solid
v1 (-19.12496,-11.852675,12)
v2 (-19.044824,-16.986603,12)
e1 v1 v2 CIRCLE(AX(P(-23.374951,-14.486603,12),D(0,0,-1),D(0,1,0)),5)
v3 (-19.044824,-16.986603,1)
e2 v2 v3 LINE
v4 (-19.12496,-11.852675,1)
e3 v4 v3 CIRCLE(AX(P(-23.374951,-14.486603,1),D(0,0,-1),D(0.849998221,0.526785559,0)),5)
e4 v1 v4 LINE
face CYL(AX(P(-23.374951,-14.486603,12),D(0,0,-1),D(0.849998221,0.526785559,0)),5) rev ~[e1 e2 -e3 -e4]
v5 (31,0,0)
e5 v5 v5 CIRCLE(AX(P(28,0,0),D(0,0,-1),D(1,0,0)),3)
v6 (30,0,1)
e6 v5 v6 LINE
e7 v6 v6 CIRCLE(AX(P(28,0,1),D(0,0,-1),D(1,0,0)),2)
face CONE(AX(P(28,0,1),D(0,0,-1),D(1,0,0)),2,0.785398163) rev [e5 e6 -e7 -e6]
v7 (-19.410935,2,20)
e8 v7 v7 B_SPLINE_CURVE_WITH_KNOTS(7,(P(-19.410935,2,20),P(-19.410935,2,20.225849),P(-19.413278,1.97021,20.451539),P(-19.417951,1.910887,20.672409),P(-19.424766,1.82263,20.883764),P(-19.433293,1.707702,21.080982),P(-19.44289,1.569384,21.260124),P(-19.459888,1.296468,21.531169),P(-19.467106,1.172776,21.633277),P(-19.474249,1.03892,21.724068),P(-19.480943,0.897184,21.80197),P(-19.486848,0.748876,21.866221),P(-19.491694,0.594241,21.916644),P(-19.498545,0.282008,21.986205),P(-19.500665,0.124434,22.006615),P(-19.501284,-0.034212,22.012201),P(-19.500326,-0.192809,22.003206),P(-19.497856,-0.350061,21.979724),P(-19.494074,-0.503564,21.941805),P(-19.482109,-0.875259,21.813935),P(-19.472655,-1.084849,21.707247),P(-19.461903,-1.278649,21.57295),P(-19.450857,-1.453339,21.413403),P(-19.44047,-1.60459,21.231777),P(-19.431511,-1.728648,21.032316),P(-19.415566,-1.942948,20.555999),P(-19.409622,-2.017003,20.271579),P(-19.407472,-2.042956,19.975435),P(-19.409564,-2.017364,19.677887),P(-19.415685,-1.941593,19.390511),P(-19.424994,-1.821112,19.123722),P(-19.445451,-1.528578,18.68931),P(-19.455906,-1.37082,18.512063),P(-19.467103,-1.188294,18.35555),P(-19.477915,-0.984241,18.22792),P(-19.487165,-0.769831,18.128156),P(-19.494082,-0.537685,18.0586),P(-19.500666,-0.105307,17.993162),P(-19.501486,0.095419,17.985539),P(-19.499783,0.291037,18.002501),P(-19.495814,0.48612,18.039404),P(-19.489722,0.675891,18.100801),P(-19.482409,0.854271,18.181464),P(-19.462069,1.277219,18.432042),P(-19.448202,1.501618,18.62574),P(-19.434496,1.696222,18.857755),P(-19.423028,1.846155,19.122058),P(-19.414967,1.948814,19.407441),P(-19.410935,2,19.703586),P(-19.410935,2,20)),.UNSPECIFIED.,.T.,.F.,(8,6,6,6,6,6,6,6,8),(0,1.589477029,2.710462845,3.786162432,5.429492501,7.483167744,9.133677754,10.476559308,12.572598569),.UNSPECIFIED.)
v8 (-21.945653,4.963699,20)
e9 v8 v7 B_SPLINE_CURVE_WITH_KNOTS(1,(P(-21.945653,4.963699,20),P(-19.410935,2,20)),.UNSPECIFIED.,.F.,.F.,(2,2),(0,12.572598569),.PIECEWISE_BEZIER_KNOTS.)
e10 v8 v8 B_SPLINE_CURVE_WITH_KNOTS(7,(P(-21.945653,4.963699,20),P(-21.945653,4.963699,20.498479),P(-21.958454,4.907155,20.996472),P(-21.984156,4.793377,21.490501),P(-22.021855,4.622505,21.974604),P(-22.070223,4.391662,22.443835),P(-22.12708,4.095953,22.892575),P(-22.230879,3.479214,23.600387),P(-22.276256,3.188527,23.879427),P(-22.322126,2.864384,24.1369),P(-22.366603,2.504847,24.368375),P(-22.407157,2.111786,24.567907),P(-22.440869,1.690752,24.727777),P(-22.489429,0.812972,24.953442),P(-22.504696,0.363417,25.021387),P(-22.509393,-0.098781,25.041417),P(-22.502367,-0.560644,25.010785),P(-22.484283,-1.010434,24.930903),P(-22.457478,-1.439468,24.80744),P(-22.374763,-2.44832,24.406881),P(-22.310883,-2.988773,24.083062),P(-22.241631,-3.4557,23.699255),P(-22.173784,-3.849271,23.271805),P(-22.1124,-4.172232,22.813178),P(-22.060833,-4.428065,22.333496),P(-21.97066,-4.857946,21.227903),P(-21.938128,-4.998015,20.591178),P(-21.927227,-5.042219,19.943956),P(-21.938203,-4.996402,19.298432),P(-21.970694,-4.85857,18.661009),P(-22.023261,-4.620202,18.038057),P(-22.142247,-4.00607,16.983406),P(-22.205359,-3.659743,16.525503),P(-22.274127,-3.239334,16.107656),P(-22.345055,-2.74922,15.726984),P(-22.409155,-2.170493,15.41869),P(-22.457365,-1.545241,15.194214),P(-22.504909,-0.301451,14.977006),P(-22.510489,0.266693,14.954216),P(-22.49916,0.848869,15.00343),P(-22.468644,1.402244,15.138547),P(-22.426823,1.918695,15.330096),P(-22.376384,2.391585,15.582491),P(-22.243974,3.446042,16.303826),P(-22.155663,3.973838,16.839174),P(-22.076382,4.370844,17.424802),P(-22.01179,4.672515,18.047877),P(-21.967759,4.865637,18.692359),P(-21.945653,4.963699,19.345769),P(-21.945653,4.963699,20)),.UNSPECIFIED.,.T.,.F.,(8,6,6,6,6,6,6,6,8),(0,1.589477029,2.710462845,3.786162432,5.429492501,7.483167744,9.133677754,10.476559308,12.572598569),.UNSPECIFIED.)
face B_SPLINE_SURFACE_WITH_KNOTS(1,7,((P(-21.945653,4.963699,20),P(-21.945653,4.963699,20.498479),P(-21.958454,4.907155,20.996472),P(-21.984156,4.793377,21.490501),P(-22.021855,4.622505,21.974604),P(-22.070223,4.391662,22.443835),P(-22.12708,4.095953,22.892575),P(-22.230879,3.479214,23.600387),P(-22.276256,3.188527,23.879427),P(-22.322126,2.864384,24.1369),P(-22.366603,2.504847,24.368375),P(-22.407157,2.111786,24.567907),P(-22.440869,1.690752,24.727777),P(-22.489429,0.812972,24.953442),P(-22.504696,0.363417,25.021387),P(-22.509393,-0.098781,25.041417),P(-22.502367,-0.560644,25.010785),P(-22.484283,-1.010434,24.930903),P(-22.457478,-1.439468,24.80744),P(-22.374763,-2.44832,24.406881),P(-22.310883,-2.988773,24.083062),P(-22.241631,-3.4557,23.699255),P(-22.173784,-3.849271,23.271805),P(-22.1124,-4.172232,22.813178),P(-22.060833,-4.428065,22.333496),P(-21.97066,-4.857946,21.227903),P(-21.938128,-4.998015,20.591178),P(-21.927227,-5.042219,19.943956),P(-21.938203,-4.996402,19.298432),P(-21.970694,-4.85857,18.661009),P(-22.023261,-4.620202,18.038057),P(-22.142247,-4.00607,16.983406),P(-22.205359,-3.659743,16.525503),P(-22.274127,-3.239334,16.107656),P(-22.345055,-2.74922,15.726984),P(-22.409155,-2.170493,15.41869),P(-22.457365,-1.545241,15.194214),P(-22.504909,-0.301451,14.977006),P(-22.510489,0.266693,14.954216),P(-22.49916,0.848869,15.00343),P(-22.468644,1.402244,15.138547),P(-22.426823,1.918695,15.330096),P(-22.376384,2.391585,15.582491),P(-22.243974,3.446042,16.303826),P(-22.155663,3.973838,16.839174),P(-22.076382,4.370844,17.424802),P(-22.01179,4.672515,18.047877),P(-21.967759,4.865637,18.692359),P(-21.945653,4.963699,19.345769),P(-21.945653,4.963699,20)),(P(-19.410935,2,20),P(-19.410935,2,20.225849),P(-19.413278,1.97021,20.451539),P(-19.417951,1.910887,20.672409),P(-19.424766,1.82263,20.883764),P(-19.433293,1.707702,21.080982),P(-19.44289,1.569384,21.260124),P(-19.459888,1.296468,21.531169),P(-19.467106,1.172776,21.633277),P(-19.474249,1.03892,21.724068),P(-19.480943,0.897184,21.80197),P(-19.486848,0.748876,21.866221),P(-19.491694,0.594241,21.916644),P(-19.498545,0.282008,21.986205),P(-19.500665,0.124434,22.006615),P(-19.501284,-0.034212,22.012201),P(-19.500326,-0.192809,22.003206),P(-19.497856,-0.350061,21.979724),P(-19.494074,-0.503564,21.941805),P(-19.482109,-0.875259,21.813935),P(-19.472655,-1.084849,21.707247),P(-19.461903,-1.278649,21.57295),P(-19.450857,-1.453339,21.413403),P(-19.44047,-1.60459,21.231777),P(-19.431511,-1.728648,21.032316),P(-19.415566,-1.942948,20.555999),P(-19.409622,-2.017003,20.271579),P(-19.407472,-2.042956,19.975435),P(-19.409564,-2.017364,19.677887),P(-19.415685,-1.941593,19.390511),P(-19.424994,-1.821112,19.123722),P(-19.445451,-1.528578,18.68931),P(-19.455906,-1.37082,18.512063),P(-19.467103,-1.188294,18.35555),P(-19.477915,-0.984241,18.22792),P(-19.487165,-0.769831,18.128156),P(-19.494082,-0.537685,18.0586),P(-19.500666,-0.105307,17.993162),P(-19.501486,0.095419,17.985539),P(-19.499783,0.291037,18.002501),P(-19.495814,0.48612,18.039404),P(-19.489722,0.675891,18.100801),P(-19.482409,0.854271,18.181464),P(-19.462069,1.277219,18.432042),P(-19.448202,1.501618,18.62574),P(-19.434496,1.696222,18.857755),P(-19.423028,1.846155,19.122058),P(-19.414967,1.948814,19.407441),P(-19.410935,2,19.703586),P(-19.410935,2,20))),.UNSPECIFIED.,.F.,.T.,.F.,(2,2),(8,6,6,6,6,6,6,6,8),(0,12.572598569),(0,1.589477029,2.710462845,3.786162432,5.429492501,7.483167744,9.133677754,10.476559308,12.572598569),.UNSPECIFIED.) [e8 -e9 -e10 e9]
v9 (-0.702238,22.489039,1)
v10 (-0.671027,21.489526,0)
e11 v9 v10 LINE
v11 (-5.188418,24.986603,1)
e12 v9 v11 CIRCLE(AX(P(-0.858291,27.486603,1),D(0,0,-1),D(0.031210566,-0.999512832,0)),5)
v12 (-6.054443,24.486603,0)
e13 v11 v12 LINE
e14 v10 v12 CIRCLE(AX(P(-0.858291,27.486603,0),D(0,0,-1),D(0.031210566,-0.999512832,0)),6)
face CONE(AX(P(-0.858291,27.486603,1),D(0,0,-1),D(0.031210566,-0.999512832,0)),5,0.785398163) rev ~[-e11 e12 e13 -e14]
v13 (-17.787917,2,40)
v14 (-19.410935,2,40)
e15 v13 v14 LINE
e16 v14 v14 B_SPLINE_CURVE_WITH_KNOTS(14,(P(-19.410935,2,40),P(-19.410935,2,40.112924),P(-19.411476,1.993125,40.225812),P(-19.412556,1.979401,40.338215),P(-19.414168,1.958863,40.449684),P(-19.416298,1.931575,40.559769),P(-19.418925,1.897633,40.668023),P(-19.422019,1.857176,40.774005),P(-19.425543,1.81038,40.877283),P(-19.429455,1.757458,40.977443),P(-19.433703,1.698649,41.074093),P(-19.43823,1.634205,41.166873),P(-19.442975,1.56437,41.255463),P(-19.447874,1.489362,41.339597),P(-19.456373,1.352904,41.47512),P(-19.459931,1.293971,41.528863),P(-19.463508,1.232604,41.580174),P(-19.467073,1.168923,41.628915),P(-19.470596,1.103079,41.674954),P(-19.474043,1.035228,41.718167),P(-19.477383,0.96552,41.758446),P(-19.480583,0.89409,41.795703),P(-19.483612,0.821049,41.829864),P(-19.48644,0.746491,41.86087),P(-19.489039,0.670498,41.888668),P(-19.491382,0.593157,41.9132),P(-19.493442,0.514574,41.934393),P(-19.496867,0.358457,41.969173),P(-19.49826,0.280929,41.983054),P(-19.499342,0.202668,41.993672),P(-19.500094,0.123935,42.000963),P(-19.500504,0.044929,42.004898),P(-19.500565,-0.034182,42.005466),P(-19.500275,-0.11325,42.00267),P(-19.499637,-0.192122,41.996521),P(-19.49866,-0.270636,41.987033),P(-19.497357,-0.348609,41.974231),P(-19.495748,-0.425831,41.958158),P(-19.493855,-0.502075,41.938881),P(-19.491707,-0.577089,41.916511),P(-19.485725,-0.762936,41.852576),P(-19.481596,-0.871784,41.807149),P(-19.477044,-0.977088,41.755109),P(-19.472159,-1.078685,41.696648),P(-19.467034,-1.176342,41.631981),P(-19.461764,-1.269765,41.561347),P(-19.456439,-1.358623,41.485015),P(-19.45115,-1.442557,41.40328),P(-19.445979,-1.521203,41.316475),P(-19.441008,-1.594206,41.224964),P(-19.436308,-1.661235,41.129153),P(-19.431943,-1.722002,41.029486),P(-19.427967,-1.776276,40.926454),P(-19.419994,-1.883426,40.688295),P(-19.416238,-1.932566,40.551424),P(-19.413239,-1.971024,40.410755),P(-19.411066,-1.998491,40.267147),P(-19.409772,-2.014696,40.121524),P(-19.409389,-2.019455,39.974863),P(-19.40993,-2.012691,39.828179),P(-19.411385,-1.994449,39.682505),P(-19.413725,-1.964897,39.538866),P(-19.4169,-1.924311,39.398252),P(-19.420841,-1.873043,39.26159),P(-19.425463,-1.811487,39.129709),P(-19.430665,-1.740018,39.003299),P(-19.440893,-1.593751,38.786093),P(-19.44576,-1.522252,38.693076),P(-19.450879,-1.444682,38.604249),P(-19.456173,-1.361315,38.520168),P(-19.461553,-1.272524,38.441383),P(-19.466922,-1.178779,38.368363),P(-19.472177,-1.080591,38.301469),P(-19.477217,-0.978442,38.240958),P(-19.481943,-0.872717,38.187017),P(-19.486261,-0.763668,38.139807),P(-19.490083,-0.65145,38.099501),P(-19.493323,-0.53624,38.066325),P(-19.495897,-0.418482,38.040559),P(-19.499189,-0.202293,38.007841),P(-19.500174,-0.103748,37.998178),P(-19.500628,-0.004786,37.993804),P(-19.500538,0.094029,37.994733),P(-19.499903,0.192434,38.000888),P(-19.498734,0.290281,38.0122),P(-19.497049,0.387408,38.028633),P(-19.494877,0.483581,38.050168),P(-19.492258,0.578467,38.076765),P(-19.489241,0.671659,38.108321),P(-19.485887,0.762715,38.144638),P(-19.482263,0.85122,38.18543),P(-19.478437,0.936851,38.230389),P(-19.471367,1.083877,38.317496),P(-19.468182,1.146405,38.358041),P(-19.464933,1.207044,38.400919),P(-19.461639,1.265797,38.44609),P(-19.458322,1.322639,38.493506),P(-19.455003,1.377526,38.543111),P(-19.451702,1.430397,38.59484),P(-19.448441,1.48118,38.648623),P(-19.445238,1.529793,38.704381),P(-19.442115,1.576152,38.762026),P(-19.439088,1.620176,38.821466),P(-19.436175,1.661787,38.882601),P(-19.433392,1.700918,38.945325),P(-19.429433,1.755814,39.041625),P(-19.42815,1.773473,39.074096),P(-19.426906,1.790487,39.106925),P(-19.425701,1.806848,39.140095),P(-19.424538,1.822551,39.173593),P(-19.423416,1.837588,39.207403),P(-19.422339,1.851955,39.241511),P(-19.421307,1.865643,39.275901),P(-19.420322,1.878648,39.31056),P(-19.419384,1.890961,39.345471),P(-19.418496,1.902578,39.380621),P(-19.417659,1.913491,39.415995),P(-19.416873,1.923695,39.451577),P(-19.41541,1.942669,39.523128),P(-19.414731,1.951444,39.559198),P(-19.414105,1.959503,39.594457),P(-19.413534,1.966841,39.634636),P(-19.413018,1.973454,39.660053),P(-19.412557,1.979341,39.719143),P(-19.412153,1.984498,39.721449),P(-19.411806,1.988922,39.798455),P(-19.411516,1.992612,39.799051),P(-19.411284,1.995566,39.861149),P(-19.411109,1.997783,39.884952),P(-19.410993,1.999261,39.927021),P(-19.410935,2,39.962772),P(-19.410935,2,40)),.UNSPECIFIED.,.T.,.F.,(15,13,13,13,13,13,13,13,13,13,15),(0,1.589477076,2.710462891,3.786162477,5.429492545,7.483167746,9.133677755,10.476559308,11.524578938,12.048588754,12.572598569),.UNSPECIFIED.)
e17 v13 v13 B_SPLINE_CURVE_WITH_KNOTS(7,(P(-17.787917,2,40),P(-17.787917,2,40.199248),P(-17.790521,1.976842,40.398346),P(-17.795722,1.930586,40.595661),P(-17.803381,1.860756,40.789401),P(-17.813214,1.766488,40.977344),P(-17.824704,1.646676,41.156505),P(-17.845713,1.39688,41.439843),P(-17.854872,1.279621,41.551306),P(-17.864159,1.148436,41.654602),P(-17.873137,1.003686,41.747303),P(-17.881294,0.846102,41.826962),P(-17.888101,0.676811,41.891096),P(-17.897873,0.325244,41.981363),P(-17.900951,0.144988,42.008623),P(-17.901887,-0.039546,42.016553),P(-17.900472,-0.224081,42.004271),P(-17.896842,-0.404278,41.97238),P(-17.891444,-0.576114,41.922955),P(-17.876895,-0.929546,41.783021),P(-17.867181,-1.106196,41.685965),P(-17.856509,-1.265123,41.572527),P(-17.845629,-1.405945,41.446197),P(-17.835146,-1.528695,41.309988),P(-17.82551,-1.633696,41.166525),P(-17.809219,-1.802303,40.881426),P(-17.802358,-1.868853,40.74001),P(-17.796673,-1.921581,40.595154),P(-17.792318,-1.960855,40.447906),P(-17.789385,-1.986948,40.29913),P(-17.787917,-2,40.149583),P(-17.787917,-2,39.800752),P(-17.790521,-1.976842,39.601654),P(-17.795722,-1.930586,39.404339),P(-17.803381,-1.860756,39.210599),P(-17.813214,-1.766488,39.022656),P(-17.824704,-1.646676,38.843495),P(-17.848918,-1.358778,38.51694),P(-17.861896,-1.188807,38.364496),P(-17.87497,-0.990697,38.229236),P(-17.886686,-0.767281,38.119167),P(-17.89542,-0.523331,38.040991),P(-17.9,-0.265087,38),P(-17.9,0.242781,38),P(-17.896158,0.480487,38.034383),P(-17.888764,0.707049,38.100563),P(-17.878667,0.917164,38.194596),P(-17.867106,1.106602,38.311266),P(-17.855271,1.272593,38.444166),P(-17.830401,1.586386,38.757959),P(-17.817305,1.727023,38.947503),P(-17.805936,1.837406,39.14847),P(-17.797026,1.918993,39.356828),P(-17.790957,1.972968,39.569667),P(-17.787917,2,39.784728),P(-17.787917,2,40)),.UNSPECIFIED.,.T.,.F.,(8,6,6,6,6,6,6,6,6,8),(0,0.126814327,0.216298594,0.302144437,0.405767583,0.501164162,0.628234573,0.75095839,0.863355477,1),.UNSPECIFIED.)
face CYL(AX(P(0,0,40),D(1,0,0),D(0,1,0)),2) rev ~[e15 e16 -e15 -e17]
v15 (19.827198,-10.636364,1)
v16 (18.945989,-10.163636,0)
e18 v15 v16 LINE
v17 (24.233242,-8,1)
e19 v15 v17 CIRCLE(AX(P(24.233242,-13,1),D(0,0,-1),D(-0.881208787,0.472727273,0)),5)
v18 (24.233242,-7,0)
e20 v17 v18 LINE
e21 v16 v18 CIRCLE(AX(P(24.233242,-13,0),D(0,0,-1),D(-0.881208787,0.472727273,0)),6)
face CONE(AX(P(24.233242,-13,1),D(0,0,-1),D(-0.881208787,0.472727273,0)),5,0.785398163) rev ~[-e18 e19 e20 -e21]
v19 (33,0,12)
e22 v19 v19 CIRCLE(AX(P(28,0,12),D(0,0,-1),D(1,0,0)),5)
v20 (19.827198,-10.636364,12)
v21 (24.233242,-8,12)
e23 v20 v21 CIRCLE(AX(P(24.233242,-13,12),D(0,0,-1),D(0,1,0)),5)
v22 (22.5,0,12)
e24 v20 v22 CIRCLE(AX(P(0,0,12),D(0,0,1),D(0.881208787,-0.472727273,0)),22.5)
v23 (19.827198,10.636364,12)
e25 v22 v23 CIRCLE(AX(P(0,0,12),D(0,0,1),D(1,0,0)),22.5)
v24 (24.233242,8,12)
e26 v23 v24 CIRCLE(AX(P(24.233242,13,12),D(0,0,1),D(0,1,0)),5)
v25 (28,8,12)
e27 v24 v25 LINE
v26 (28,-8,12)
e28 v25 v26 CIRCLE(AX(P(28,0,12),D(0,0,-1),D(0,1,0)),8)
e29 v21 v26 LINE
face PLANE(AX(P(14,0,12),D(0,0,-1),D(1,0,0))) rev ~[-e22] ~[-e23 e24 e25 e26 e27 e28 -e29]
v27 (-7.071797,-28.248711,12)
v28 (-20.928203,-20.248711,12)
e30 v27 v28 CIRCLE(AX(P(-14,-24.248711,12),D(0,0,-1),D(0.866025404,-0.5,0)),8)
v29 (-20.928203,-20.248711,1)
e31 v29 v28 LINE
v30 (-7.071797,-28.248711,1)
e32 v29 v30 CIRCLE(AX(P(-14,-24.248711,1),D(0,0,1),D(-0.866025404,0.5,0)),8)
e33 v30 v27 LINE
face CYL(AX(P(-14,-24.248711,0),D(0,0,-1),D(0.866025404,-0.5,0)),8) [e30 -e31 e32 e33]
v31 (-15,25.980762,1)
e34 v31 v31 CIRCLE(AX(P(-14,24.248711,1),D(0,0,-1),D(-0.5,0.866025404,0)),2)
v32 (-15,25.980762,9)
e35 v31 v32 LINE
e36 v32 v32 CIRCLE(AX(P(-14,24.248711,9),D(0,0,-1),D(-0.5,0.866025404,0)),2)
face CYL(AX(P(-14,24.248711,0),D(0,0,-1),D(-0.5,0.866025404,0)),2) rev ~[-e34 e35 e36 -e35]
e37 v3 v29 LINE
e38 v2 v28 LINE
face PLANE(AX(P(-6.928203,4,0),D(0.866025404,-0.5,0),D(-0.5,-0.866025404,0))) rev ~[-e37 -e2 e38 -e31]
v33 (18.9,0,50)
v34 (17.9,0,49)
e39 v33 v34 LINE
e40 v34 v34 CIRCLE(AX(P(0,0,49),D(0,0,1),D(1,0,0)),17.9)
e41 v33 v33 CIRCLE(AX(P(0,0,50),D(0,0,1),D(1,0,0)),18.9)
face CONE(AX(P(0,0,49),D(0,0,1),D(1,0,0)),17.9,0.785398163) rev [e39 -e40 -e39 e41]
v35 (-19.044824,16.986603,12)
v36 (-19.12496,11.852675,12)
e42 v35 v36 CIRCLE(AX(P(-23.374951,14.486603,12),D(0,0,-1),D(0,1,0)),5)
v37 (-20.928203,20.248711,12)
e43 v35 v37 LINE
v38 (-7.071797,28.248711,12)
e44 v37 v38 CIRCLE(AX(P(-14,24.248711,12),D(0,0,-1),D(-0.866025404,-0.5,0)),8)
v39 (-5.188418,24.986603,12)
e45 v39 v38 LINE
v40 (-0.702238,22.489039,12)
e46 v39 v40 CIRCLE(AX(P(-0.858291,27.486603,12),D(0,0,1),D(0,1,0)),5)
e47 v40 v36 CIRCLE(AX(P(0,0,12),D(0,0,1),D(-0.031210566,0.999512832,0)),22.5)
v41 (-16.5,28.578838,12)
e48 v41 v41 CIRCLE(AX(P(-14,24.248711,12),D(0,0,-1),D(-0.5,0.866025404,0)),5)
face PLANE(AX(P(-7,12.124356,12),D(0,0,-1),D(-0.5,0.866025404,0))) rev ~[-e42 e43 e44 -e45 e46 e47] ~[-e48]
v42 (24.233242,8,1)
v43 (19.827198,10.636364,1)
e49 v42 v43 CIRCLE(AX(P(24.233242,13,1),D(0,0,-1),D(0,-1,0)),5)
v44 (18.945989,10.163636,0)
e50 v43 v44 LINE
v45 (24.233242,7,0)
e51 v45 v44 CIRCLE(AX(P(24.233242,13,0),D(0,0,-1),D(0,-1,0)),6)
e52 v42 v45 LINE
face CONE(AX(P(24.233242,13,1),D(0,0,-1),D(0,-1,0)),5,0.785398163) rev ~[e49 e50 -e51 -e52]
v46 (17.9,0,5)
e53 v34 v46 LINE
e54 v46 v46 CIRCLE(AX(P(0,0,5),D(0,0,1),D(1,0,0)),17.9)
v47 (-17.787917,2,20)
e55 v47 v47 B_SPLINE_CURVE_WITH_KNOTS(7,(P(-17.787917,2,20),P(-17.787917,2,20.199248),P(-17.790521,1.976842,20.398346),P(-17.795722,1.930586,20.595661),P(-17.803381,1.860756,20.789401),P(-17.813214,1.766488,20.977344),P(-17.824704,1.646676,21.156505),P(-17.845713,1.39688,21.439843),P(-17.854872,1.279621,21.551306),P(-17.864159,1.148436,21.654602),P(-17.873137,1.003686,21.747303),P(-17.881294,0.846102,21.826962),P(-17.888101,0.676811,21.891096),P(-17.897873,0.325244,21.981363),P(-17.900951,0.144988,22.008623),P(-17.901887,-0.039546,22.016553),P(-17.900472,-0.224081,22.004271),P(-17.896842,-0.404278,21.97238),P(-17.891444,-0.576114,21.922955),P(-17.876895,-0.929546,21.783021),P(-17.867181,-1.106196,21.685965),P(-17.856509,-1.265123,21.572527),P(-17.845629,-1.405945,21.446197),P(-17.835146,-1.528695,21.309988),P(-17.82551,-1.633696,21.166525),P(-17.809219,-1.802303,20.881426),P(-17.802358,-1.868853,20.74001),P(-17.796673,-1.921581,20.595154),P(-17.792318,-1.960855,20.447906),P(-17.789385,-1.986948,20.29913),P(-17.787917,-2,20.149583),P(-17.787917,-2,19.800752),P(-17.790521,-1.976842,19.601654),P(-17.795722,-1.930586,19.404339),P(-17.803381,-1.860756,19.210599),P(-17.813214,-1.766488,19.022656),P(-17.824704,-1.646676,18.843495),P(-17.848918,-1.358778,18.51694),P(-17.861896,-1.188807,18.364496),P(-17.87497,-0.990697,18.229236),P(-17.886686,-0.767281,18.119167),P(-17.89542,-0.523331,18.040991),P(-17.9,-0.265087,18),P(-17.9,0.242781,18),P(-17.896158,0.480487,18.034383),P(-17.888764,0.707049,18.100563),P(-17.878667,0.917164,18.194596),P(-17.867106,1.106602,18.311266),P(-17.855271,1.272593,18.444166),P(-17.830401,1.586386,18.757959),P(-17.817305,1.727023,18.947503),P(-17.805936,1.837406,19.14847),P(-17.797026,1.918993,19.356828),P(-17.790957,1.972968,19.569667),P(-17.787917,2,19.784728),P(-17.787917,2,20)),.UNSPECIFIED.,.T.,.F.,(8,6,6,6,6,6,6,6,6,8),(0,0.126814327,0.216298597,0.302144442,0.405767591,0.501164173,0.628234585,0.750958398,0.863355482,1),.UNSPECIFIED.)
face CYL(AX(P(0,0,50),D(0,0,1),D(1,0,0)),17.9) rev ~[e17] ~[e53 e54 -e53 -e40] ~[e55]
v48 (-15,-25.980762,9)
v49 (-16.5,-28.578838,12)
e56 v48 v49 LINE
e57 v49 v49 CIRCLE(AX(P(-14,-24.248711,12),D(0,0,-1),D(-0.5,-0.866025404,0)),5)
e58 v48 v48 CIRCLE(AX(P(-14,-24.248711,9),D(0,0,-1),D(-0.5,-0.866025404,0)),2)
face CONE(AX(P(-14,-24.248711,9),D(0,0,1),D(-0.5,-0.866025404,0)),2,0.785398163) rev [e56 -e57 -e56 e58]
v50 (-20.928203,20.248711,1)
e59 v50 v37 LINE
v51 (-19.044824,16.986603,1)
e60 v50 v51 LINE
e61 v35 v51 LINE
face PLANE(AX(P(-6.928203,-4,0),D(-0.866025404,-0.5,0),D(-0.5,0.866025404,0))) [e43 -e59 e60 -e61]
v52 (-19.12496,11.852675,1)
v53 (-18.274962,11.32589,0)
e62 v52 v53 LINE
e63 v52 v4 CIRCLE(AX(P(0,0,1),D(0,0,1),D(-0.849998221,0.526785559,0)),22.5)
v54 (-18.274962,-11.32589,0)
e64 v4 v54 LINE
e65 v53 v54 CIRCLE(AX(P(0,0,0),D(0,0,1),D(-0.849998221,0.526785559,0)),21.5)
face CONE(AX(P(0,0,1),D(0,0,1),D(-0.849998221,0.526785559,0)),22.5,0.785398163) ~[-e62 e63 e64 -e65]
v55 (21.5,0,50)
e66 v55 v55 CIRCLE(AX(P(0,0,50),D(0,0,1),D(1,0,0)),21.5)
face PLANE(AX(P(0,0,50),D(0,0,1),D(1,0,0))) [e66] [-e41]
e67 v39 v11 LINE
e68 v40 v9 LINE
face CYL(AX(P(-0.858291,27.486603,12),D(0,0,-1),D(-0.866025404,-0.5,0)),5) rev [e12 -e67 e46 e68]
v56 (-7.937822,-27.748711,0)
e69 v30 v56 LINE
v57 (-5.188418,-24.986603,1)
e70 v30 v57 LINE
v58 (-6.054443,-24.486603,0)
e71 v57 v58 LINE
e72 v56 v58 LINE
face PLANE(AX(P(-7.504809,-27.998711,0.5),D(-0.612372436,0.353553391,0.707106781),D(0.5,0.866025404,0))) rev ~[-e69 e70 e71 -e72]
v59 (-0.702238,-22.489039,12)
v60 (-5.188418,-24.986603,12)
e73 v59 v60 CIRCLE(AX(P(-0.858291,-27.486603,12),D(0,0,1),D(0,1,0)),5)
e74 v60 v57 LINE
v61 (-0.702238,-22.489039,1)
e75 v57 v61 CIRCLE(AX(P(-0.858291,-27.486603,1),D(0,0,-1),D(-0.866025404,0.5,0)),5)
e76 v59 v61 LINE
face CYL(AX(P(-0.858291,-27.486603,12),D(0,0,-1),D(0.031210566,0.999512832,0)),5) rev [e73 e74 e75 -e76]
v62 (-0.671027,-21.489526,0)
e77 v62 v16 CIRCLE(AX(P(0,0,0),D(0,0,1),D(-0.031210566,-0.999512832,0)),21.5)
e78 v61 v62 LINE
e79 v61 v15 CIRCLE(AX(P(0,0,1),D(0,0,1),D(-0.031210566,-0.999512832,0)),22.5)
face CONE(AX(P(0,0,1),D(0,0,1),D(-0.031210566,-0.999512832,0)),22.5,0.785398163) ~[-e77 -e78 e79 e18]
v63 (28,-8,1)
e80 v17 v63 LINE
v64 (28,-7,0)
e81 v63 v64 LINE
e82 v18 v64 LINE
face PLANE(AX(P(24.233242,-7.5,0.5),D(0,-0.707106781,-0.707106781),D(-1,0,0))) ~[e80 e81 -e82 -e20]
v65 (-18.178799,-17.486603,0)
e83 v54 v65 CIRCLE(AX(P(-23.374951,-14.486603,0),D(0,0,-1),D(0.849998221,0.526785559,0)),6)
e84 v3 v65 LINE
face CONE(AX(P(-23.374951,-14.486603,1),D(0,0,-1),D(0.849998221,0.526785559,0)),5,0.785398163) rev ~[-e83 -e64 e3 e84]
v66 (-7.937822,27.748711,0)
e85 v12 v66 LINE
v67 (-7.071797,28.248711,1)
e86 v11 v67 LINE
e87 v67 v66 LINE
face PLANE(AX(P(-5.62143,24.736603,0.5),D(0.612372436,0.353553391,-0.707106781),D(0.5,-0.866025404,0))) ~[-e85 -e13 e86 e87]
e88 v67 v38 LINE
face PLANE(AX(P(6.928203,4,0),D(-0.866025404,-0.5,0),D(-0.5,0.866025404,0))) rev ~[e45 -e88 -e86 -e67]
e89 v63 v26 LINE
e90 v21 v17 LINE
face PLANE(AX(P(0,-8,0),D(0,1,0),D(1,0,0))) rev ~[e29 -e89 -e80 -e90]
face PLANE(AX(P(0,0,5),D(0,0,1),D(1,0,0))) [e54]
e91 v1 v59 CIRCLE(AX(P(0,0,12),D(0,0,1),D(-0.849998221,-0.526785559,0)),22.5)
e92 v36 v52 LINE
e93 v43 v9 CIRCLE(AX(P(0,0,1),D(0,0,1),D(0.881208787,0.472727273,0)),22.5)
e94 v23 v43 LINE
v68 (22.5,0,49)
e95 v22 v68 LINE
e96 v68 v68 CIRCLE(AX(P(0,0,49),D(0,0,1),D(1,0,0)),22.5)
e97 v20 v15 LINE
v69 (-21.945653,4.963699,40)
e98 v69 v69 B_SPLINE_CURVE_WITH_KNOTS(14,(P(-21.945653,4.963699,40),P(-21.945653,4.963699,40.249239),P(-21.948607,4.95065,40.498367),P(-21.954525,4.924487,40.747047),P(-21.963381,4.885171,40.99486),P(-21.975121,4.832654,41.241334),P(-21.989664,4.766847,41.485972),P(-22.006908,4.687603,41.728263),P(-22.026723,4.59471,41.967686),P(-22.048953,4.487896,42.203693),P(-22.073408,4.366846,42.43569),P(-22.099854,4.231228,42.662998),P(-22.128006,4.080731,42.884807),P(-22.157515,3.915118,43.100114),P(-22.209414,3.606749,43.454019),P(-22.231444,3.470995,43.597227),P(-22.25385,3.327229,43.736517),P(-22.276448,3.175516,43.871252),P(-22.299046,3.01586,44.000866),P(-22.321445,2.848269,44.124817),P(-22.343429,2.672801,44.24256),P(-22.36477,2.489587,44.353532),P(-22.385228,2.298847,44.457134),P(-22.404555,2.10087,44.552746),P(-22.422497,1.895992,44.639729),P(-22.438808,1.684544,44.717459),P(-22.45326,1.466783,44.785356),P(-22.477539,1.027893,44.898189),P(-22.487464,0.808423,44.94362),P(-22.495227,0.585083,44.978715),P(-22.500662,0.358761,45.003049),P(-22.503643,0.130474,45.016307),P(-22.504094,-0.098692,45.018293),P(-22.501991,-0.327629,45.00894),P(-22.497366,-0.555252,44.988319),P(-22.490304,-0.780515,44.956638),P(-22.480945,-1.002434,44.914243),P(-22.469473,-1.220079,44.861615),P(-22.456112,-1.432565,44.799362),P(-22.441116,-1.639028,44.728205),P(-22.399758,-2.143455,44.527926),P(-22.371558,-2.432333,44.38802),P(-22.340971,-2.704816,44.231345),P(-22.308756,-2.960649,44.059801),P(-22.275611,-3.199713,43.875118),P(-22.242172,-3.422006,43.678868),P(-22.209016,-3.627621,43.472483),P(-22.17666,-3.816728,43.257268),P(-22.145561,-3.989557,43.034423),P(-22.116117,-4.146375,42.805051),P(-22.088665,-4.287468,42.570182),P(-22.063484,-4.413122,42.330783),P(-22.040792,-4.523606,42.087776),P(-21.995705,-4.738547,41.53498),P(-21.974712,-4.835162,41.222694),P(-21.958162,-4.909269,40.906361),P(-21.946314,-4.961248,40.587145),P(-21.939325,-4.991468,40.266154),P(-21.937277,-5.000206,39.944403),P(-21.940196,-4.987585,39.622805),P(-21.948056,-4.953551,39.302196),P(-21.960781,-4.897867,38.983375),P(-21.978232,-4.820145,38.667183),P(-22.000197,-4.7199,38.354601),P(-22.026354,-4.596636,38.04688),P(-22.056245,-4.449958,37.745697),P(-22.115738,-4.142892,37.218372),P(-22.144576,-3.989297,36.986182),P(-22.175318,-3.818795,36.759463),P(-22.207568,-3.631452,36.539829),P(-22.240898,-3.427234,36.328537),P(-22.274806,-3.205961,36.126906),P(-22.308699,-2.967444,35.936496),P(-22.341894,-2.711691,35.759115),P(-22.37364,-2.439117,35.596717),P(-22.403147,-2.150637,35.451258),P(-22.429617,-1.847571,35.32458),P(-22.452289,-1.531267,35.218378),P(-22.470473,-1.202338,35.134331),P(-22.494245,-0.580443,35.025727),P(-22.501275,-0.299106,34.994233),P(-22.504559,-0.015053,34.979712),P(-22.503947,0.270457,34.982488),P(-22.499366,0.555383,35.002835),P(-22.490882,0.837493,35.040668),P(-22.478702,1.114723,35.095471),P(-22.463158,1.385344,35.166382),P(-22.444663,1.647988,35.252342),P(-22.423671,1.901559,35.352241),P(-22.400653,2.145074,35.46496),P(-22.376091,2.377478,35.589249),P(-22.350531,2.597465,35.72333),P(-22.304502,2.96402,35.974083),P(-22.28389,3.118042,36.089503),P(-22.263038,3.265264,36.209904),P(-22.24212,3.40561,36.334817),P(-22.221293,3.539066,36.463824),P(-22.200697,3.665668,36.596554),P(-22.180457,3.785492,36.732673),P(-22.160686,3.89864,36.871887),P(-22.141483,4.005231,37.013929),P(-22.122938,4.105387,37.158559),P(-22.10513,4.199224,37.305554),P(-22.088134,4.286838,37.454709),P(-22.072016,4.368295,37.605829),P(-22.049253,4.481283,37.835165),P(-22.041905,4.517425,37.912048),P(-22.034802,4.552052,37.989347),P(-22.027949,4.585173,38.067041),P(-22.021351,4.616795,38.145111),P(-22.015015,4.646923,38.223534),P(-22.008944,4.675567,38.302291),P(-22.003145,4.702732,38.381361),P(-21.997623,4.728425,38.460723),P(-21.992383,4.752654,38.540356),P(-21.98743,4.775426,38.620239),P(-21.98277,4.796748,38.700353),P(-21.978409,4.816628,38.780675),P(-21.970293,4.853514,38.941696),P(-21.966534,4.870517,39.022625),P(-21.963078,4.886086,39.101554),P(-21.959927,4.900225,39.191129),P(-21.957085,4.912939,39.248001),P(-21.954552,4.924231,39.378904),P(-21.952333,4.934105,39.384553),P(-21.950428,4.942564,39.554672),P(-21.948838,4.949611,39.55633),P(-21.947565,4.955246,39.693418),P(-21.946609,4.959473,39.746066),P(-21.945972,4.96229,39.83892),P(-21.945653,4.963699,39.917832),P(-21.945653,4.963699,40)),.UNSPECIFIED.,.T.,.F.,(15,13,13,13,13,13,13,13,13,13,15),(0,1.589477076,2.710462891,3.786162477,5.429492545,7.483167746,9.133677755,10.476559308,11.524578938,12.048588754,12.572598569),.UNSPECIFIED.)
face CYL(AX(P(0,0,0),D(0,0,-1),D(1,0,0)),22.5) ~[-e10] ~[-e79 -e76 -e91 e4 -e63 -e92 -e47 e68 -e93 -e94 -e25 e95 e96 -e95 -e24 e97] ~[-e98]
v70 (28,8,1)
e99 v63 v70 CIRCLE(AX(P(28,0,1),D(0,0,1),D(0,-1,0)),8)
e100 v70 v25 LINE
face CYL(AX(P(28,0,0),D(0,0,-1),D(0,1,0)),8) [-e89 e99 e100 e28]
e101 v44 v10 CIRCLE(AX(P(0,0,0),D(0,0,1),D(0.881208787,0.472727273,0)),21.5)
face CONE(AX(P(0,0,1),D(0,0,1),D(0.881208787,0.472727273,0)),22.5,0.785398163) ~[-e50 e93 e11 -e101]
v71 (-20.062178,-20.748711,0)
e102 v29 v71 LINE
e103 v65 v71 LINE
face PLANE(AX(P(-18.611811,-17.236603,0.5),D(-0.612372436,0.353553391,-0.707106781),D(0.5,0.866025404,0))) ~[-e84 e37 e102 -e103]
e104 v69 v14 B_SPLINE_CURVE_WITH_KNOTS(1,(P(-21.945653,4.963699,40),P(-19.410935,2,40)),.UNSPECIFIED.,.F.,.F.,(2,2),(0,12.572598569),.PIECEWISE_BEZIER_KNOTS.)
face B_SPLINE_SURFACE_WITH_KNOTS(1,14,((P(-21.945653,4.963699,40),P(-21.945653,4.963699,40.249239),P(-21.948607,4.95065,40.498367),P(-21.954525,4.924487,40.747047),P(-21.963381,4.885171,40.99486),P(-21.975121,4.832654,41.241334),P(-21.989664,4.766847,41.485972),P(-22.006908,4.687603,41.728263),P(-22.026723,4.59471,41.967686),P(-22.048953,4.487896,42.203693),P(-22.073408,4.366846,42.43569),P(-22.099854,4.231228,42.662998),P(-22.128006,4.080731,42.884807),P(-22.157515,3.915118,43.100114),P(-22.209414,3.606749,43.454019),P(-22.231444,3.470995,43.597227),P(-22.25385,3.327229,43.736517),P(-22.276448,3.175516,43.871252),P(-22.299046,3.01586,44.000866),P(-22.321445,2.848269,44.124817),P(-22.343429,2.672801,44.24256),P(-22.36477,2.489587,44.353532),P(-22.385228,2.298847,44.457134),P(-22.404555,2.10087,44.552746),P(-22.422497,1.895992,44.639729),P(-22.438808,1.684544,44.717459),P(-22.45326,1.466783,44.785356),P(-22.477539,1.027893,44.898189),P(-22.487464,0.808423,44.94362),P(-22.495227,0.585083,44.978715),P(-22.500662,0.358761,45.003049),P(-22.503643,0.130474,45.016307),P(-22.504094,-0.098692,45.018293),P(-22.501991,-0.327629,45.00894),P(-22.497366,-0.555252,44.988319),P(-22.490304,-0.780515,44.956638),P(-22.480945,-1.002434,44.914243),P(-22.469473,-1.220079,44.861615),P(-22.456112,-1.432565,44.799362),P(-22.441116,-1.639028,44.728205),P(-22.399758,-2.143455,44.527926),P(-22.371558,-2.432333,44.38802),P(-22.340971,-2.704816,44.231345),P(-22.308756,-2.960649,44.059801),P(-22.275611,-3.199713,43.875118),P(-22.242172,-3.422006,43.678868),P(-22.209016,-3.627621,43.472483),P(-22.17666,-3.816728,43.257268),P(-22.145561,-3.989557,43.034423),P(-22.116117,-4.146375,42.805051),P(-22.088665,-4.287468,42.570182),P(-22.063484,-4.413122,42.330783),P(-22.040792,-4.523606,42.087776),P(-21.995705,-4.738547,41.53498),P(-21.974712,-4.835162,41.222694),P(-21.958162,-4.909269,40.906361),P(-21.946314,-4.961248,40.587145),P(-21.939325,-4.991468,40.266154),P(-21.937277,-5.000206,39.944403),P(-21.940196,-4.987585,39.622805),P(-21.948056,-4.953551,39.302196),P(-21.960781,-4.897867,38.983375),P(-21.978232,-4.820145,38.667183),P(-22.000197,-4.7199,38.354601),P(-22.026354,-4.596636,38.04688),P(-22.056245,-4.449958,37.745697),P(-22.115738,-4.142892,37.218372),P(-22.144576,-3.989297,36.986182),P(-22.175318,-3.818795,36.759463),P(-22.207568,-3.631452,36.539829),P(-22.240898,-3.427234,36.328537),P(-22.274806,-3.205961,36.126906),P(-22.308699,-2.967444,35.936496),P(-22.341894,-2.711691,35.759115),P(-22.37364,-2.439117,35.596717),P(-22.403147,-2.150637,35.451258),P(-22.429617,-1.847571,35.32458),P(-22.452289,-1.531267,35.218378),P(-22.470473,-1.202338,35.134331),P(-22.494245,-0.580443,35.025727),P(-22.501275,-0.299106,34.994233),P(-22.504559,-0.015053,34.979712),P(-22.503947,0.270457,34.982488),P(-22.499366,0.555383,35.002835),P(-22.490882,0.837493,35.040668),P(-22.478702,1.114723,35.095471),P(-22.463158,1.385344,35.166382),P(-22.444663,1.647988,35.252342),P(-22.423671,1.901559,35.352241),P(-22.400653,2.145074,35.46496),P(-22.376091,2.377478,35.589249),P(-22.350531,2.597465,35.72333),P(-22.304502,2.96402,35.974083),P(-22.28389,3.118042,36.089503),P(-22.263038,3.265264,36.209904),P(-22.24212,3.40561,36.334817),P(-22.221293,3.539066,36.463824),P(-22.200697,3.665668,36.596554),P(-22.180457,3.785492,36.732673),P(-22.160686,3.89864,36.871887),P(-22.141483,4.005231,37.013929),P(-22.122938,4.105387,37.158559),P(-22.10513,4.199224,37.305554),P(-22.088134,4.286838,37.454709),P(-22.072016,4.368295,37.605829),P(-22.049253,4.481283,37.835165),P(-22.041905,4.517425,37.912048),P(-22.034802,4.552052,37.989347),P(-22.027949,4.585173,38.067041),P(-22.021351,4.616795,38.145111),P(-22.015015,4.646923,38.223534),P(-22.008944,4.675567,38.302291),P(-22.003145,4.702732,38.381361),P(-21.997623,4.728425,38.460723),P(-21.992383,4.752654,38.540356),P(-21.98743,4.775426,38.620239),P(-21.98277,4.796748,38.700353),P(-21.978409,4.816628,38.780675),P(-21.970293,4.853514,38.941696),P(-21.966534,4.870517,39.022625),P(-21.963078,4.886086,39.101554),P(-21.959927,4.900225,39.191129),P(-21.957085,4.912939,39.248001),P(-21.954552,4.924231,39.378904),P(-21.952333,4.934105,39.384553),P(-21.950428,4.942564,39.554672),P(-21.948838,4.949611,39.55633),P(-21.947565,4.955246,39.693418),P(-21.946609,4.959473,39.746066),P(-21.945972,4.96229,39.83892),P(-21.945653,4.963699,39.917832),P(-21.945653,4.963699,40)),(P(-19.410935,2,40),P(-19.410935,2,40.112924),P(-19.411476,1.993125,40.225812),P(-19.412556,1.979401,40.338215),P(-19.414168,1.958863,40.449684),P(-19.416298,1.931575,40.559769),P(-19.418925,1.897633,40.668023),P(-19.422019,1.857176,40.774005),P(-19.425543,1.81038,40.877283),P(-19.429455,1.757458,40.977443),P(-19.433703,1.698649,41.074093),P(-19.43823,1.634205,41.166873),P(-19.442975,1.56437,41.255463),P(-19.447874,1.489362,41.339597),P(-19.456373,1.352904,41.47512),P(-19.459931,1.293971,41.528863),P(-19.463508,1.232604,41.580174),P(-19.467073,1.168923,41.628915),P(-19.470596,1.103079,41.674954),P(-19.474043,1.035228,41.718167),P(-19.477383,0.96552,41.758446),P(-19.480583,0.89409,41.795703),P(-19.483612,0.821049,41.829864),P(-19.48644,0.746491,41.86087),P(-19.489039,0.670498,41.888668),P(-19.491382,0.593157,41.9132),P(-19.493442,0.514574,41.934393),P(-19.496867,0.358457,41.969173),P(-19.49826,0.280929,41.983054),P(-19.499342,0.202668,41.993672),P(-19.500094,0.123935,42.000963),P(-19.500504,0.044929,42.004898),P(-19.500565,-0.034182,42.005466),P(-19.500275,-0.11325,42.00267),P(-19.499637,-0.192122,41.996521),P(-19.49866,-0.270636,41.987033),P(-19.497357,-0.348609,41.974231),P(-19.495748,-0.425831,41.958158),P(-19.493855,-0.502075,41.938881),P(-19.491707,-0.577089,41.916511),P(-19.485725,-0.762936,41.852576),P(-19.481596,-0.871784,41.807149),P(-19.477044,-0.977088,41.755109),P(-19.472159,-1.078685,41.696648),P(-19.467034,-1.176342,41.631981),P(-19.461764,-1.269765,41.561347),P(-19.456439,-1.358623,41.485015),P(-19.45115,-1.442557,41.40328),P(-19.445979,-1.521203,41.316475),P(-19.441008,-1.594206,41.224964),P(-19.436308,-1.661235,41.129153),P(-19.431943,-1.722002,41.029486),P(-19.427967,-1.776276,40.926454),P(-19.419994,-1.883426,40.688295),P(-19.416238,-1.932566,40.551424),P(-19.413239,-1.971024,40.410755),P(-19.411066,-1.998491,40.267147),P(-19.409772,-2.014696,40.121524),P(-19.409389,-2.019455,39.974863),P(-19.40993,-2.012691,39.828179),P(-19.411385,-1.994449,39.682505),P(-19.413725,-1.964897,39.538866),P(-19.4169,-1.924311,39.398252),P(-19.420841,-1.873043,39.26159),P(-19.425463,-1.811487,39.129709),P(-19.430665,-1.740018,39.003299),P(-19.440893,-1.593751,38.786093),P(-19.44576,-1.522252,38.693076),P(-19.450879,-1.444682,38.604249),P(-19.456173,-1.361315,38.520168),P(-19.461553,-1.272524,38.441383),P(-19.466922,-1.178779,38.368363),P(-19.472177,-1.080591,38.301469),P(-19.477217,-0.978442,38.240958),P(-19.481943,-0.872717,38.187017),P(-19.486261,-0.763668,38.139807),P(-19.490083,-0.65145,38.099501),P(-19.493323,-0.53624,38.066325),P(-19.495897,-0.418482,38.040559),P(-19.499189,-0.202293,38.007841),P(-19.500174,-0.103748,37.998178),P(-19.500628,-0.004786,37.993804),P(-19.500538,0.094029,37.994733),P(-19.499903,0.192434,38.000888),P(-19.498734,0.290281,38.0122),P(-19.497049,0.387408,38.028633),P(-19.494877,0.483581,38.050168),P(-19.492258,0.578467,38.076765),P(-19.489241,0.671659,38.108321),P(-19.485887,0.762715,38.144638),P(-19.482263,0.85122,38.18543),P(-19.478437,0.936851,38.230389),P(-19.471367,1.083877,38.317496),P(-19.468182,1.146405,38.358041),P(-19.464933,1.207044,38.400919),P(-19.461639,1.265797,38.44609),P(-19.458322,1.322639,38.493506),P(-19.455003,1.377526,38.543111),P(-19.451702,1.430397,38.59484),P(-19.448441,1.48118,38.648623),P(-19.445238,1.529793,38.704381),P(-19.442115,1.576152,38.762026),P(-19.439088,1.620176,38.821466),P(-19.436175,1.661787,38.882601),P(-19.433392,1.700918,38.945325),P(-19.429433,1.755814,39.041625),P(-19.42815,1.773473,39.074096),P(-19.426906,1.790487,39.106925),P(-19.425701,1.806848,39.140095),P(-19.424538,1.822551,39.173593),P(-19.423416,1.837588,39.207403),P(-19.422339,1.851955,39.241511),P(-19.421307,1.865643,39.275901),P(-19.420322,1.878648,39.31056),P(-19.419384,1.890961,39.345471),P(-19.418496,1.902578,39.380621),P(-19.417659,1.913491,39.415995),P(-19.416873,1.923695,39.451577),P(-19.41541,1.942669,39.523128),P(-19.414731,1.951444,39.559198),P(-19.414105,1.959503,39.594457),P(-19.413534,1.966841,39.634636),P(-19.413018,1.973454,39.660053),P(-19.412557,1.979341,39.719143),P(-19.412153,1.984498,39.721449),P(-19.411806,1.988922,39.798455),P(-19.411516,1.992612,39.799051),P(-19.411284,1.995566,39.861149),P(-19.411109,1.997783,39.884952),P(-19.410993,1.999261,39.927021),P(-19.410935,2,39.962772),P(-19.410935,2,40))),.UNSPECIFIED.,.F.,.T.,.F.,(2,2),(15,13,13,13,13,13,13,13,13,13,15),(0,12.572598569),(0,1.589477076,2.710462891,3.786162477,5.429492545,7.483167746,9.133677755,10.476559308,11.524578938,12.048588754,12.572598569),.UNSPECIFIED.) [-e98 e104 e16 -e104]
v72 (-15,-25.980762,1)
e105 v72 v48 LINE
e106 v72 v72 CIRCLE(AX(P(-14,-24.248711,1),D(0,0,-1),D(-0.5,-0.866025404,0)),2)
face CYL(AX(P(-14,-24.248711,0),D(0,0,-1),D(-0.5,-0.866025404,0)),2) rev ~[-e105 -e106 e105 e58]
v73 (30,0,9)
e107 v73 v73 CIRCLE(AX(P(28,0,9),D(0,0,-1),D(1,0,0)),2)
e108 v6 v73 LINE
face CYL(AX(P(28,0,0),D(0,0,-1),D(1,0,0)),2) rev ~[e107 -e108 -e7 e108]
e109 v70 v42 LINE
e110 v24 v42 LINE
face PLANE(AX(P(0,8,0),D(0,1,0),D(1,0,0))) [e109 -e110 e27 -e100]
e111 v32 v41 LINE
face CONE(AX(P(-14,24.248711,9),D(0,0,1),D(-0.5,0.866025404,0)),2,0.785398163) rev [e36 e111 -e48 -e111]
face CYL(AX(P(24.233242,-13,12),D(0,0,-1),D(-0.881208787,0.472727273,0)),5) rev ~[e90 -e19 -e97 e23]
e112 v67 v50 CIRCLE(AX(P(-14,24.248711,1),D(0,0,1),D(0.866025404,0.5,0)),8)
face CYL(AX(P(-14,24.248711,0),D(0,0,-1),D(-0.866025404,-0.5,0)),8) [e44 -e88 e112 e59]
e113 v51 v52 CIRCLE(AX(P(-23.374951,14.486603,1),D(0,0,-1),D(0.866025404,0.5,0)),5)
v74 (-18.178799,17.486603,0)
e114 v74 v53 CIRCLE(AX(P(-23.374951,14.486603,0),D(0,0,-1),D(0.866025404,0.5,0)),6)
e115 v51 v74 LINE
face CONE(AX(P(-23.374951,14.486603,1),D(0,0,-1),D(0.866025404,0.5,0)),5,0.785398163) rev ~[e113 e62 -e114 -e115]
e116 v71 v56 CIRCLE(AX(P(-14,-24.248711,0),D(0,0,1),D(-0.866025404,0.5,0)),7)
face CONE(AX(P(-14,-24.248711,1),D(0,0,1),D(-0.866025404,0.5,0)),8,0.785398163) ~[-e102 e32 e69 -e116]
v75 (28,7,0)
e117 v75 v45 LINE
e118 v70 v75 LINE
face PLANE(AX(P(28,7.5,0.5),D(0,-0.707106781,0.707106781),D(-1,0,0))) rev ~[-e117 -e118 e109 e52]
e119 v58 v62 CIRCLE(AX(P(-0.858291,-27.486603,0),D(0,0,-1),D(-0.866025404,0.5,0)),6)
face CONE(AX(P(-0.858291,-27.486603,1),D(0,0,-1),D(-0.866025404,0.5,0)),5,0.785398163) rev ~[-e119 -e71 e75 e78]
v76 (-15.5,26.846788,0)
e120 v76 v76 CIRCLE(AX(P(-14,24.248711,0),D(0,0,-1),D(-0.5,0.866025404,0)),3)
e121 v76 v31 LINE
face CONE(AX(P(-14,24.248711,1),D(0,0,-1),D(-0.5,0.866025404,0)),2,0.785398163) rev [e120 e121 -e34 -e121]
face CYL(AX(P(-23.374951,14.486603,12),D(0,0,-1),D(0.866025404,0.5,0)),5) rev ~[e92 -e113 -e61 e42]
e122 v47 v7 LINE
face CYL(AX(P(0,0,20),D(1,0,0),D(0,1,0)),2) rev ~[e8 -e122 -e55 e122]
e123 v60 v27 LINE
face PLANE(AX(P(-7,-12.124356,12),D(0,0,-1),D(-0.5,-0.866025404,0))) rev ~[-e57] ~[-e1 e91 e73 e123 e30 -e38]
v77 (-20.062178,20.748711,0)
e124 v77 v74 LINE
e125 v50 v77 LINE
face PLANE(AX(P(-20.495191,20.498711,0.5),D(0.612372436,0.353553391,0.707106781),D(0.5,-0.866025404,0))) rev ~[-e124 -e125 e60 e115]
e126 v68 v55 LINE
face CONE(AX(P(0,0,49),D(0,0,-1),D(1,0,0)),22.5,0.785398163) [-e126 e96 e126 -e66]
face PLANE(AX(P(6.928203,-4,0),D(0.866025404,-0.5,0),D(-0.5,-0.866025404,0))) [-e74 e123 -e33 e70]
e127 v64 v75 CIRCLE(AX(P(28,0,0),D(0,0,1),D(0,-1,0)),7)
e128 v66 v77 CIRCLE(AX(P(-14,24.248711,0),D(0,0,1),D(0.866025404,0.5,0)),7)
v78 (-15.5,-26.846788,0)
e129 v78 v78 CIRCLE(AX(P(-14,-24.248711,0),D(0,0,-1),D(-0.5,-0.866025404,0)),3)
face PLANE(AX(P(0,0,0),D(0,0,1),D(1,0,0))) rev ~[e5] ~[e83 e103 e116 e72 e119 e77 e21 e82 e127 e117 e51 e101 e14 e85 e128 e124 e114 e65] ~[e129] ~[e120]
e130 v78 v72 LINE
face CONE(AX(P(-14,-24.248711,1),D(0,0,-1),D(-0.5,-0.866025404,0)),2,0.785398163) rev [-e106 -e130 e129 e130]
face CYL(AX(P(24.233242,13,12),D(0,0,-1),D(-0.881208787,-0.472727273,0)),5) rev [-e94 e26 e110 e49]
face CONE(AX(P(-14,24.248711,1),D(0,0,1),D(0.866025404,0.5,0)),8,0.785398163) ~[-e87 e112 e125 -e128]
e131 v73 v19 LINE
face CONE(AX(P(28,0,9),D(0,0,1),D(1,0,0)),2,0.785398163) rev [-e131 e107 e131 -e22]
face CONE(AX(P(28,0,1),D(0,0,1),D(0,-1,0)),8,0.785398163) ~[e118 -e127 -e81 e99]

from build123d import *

# Parameters (mm, degrees)
SKETCH_R           = 22.5
PAD_DEPTH          = 50
SKETCH002_R        = 2
PAD001_DEPTH       = 12
POLARPATTERN_COUNT = 3
CHAMFER_SIZE       = 3
FILLET_R           = 5
SKETCH001_R        = 17.9
POCKET_DEPTH       = 45
CHAMFER001_SIZE    = 1
CHAMFER002_SIZE    = 1
SKETCH003_R        = 2
POCKET001_DEPTH    = 22.501
CHAMFER003_SIZE    = 3


with BuildPart() as part:
    # Sketch (on XY_Plane of Origin) → Pad (new body)
    with BuildSketch(Plane.XY):
        Circle(SKETCH_R)
    extrude(amount=PAD_DEPTH)

    # Sketch002 (on Face2 of Pad) → Pad001 (join)
    with BuildSketch(Plane(origin=(0, 0, 0), x_dir=(1, 0, 0), z_dir=(0, 0, -1))):
        with BuildLine():
            ThreePointArc((0, 8), (-8, 0), (0, -8))
            Line((0, -8), (28, -8))
            ThreePointArc((28, -8), (36, 0), (28, 8))
            Line((0, 8), (28, 8))
        make_face()
        with Locations((28, 0)):
            Circle(SKETCH002_R, mode=Mode.SUBTRACT)
    pad001 = extrude(amount=-PAD001_DEPTH)

    # PolarPattern: Pad001 ×3 about axis
    polarpattern_axis = Axis((0, 0, 0), (0, 0, -1))
    for i in range(1, POLARPATTERN_COUNT):
        add(pad001.rotate(polarpattern_axis, i * 360 / POLARPATTERN_COUNT))

    # Chamfer
    chamfer_edges = [part.edges().sort_by_distance(p)[0] for p in [
        (26, 0, 12),
        (-13, 22.51666, 12),
        (-13, -22.51666, 12),
    ]]
    chamfer(chamfer_edges, length=CHAMFER_SIZE)

    # Fillet
    fillet_edges = [part.edges().sort_by_distance(p)[0] for p in [
        (21.029741, 8, 6),
        (-3.586667, 22.21229, 6),
        (-17.443074, 14.21229, 6),
        (-17.443074, -14.21229, 6),
        (-3.586667, -22.21229, 6),
        (21.029741, -8, 6),
    ]]
    fillet(fillet_edges, radius=FILLET_R)

    # Sketch001 (on Face3 of Pad) → Pocket (cut)
    with BuildSketch(Plane.XY.offset(50)):
        Circle(SKETCH001_R)
    extrude(amount=-POCKET_DEPTH, mode=Mode.SUBTRACT)

    # Chamfer001
    chamfer001_edges = [part.edges().sort_by_distance(p)[0] for p in [
        (-22.5, 0, 50),
        (-17.9, 0, 50),
    ]]
    chamfer(chamfer001_edges, length=CHAMFER001_SIZE)

    # Chamfer002
    chamfer002_edges = [part.edges().sort_by_distance(p)[0] for p in [
        (11.25, 19.485572, 0),
        (21.665965, 8.709418, 0),
        (-3.290405, 23.117985, 0),
        (26.116621, 8, 0),
        (-6.130107, 26.617657, 0),
        (36, 0, 0),
        (-18, 31.176915, 0),
        (26.116621, -8, 0),
        (-19.986514, 18.617657, 0),
        (21.665965, -8.709418, 0),
        (-18.37556, 14.408567, 0),
        (11.25, -19.485572, 0),
        (-22.5, 0, 0),
        (-3.290405, -23.117985, 0),
        (-18.37556, -14.408567, 0),
        (-6.130107, -26.617657, 0),
        (-19.986514, -18.617657, 0),
        (-18, -31.176915, 0),
        (-13, 22.51666, 0),
        (-13, -22.51666, 0),
        (26, 0, 0),
    ]]
    chamfer(chamfer002_edges, length=CHAMFER002_SIZE)

    # Sketch003 → Pocket001 (cut, through all)
    with BuildSketch(Plane.YZ):
        with Locations((0, 20)):
            Circle(SKETCH003_R)
        with Locations((0, 40)):
            Circle(SKETCH003_R)
    extrude(amount=-POCKET001_DEPTH, mode=Mode.SUBTRACT)

    # Chamfer003
    chamfer003_edges = [part.edges().sort_by_distance(p)[0] for p in [
        (-22.410935, -2, 40),
        (-22.410935, -2, 20),
    ]]
    chamfer(chamfer003_edges, length=CHAMFER003_SIZE)


solid = part.part
